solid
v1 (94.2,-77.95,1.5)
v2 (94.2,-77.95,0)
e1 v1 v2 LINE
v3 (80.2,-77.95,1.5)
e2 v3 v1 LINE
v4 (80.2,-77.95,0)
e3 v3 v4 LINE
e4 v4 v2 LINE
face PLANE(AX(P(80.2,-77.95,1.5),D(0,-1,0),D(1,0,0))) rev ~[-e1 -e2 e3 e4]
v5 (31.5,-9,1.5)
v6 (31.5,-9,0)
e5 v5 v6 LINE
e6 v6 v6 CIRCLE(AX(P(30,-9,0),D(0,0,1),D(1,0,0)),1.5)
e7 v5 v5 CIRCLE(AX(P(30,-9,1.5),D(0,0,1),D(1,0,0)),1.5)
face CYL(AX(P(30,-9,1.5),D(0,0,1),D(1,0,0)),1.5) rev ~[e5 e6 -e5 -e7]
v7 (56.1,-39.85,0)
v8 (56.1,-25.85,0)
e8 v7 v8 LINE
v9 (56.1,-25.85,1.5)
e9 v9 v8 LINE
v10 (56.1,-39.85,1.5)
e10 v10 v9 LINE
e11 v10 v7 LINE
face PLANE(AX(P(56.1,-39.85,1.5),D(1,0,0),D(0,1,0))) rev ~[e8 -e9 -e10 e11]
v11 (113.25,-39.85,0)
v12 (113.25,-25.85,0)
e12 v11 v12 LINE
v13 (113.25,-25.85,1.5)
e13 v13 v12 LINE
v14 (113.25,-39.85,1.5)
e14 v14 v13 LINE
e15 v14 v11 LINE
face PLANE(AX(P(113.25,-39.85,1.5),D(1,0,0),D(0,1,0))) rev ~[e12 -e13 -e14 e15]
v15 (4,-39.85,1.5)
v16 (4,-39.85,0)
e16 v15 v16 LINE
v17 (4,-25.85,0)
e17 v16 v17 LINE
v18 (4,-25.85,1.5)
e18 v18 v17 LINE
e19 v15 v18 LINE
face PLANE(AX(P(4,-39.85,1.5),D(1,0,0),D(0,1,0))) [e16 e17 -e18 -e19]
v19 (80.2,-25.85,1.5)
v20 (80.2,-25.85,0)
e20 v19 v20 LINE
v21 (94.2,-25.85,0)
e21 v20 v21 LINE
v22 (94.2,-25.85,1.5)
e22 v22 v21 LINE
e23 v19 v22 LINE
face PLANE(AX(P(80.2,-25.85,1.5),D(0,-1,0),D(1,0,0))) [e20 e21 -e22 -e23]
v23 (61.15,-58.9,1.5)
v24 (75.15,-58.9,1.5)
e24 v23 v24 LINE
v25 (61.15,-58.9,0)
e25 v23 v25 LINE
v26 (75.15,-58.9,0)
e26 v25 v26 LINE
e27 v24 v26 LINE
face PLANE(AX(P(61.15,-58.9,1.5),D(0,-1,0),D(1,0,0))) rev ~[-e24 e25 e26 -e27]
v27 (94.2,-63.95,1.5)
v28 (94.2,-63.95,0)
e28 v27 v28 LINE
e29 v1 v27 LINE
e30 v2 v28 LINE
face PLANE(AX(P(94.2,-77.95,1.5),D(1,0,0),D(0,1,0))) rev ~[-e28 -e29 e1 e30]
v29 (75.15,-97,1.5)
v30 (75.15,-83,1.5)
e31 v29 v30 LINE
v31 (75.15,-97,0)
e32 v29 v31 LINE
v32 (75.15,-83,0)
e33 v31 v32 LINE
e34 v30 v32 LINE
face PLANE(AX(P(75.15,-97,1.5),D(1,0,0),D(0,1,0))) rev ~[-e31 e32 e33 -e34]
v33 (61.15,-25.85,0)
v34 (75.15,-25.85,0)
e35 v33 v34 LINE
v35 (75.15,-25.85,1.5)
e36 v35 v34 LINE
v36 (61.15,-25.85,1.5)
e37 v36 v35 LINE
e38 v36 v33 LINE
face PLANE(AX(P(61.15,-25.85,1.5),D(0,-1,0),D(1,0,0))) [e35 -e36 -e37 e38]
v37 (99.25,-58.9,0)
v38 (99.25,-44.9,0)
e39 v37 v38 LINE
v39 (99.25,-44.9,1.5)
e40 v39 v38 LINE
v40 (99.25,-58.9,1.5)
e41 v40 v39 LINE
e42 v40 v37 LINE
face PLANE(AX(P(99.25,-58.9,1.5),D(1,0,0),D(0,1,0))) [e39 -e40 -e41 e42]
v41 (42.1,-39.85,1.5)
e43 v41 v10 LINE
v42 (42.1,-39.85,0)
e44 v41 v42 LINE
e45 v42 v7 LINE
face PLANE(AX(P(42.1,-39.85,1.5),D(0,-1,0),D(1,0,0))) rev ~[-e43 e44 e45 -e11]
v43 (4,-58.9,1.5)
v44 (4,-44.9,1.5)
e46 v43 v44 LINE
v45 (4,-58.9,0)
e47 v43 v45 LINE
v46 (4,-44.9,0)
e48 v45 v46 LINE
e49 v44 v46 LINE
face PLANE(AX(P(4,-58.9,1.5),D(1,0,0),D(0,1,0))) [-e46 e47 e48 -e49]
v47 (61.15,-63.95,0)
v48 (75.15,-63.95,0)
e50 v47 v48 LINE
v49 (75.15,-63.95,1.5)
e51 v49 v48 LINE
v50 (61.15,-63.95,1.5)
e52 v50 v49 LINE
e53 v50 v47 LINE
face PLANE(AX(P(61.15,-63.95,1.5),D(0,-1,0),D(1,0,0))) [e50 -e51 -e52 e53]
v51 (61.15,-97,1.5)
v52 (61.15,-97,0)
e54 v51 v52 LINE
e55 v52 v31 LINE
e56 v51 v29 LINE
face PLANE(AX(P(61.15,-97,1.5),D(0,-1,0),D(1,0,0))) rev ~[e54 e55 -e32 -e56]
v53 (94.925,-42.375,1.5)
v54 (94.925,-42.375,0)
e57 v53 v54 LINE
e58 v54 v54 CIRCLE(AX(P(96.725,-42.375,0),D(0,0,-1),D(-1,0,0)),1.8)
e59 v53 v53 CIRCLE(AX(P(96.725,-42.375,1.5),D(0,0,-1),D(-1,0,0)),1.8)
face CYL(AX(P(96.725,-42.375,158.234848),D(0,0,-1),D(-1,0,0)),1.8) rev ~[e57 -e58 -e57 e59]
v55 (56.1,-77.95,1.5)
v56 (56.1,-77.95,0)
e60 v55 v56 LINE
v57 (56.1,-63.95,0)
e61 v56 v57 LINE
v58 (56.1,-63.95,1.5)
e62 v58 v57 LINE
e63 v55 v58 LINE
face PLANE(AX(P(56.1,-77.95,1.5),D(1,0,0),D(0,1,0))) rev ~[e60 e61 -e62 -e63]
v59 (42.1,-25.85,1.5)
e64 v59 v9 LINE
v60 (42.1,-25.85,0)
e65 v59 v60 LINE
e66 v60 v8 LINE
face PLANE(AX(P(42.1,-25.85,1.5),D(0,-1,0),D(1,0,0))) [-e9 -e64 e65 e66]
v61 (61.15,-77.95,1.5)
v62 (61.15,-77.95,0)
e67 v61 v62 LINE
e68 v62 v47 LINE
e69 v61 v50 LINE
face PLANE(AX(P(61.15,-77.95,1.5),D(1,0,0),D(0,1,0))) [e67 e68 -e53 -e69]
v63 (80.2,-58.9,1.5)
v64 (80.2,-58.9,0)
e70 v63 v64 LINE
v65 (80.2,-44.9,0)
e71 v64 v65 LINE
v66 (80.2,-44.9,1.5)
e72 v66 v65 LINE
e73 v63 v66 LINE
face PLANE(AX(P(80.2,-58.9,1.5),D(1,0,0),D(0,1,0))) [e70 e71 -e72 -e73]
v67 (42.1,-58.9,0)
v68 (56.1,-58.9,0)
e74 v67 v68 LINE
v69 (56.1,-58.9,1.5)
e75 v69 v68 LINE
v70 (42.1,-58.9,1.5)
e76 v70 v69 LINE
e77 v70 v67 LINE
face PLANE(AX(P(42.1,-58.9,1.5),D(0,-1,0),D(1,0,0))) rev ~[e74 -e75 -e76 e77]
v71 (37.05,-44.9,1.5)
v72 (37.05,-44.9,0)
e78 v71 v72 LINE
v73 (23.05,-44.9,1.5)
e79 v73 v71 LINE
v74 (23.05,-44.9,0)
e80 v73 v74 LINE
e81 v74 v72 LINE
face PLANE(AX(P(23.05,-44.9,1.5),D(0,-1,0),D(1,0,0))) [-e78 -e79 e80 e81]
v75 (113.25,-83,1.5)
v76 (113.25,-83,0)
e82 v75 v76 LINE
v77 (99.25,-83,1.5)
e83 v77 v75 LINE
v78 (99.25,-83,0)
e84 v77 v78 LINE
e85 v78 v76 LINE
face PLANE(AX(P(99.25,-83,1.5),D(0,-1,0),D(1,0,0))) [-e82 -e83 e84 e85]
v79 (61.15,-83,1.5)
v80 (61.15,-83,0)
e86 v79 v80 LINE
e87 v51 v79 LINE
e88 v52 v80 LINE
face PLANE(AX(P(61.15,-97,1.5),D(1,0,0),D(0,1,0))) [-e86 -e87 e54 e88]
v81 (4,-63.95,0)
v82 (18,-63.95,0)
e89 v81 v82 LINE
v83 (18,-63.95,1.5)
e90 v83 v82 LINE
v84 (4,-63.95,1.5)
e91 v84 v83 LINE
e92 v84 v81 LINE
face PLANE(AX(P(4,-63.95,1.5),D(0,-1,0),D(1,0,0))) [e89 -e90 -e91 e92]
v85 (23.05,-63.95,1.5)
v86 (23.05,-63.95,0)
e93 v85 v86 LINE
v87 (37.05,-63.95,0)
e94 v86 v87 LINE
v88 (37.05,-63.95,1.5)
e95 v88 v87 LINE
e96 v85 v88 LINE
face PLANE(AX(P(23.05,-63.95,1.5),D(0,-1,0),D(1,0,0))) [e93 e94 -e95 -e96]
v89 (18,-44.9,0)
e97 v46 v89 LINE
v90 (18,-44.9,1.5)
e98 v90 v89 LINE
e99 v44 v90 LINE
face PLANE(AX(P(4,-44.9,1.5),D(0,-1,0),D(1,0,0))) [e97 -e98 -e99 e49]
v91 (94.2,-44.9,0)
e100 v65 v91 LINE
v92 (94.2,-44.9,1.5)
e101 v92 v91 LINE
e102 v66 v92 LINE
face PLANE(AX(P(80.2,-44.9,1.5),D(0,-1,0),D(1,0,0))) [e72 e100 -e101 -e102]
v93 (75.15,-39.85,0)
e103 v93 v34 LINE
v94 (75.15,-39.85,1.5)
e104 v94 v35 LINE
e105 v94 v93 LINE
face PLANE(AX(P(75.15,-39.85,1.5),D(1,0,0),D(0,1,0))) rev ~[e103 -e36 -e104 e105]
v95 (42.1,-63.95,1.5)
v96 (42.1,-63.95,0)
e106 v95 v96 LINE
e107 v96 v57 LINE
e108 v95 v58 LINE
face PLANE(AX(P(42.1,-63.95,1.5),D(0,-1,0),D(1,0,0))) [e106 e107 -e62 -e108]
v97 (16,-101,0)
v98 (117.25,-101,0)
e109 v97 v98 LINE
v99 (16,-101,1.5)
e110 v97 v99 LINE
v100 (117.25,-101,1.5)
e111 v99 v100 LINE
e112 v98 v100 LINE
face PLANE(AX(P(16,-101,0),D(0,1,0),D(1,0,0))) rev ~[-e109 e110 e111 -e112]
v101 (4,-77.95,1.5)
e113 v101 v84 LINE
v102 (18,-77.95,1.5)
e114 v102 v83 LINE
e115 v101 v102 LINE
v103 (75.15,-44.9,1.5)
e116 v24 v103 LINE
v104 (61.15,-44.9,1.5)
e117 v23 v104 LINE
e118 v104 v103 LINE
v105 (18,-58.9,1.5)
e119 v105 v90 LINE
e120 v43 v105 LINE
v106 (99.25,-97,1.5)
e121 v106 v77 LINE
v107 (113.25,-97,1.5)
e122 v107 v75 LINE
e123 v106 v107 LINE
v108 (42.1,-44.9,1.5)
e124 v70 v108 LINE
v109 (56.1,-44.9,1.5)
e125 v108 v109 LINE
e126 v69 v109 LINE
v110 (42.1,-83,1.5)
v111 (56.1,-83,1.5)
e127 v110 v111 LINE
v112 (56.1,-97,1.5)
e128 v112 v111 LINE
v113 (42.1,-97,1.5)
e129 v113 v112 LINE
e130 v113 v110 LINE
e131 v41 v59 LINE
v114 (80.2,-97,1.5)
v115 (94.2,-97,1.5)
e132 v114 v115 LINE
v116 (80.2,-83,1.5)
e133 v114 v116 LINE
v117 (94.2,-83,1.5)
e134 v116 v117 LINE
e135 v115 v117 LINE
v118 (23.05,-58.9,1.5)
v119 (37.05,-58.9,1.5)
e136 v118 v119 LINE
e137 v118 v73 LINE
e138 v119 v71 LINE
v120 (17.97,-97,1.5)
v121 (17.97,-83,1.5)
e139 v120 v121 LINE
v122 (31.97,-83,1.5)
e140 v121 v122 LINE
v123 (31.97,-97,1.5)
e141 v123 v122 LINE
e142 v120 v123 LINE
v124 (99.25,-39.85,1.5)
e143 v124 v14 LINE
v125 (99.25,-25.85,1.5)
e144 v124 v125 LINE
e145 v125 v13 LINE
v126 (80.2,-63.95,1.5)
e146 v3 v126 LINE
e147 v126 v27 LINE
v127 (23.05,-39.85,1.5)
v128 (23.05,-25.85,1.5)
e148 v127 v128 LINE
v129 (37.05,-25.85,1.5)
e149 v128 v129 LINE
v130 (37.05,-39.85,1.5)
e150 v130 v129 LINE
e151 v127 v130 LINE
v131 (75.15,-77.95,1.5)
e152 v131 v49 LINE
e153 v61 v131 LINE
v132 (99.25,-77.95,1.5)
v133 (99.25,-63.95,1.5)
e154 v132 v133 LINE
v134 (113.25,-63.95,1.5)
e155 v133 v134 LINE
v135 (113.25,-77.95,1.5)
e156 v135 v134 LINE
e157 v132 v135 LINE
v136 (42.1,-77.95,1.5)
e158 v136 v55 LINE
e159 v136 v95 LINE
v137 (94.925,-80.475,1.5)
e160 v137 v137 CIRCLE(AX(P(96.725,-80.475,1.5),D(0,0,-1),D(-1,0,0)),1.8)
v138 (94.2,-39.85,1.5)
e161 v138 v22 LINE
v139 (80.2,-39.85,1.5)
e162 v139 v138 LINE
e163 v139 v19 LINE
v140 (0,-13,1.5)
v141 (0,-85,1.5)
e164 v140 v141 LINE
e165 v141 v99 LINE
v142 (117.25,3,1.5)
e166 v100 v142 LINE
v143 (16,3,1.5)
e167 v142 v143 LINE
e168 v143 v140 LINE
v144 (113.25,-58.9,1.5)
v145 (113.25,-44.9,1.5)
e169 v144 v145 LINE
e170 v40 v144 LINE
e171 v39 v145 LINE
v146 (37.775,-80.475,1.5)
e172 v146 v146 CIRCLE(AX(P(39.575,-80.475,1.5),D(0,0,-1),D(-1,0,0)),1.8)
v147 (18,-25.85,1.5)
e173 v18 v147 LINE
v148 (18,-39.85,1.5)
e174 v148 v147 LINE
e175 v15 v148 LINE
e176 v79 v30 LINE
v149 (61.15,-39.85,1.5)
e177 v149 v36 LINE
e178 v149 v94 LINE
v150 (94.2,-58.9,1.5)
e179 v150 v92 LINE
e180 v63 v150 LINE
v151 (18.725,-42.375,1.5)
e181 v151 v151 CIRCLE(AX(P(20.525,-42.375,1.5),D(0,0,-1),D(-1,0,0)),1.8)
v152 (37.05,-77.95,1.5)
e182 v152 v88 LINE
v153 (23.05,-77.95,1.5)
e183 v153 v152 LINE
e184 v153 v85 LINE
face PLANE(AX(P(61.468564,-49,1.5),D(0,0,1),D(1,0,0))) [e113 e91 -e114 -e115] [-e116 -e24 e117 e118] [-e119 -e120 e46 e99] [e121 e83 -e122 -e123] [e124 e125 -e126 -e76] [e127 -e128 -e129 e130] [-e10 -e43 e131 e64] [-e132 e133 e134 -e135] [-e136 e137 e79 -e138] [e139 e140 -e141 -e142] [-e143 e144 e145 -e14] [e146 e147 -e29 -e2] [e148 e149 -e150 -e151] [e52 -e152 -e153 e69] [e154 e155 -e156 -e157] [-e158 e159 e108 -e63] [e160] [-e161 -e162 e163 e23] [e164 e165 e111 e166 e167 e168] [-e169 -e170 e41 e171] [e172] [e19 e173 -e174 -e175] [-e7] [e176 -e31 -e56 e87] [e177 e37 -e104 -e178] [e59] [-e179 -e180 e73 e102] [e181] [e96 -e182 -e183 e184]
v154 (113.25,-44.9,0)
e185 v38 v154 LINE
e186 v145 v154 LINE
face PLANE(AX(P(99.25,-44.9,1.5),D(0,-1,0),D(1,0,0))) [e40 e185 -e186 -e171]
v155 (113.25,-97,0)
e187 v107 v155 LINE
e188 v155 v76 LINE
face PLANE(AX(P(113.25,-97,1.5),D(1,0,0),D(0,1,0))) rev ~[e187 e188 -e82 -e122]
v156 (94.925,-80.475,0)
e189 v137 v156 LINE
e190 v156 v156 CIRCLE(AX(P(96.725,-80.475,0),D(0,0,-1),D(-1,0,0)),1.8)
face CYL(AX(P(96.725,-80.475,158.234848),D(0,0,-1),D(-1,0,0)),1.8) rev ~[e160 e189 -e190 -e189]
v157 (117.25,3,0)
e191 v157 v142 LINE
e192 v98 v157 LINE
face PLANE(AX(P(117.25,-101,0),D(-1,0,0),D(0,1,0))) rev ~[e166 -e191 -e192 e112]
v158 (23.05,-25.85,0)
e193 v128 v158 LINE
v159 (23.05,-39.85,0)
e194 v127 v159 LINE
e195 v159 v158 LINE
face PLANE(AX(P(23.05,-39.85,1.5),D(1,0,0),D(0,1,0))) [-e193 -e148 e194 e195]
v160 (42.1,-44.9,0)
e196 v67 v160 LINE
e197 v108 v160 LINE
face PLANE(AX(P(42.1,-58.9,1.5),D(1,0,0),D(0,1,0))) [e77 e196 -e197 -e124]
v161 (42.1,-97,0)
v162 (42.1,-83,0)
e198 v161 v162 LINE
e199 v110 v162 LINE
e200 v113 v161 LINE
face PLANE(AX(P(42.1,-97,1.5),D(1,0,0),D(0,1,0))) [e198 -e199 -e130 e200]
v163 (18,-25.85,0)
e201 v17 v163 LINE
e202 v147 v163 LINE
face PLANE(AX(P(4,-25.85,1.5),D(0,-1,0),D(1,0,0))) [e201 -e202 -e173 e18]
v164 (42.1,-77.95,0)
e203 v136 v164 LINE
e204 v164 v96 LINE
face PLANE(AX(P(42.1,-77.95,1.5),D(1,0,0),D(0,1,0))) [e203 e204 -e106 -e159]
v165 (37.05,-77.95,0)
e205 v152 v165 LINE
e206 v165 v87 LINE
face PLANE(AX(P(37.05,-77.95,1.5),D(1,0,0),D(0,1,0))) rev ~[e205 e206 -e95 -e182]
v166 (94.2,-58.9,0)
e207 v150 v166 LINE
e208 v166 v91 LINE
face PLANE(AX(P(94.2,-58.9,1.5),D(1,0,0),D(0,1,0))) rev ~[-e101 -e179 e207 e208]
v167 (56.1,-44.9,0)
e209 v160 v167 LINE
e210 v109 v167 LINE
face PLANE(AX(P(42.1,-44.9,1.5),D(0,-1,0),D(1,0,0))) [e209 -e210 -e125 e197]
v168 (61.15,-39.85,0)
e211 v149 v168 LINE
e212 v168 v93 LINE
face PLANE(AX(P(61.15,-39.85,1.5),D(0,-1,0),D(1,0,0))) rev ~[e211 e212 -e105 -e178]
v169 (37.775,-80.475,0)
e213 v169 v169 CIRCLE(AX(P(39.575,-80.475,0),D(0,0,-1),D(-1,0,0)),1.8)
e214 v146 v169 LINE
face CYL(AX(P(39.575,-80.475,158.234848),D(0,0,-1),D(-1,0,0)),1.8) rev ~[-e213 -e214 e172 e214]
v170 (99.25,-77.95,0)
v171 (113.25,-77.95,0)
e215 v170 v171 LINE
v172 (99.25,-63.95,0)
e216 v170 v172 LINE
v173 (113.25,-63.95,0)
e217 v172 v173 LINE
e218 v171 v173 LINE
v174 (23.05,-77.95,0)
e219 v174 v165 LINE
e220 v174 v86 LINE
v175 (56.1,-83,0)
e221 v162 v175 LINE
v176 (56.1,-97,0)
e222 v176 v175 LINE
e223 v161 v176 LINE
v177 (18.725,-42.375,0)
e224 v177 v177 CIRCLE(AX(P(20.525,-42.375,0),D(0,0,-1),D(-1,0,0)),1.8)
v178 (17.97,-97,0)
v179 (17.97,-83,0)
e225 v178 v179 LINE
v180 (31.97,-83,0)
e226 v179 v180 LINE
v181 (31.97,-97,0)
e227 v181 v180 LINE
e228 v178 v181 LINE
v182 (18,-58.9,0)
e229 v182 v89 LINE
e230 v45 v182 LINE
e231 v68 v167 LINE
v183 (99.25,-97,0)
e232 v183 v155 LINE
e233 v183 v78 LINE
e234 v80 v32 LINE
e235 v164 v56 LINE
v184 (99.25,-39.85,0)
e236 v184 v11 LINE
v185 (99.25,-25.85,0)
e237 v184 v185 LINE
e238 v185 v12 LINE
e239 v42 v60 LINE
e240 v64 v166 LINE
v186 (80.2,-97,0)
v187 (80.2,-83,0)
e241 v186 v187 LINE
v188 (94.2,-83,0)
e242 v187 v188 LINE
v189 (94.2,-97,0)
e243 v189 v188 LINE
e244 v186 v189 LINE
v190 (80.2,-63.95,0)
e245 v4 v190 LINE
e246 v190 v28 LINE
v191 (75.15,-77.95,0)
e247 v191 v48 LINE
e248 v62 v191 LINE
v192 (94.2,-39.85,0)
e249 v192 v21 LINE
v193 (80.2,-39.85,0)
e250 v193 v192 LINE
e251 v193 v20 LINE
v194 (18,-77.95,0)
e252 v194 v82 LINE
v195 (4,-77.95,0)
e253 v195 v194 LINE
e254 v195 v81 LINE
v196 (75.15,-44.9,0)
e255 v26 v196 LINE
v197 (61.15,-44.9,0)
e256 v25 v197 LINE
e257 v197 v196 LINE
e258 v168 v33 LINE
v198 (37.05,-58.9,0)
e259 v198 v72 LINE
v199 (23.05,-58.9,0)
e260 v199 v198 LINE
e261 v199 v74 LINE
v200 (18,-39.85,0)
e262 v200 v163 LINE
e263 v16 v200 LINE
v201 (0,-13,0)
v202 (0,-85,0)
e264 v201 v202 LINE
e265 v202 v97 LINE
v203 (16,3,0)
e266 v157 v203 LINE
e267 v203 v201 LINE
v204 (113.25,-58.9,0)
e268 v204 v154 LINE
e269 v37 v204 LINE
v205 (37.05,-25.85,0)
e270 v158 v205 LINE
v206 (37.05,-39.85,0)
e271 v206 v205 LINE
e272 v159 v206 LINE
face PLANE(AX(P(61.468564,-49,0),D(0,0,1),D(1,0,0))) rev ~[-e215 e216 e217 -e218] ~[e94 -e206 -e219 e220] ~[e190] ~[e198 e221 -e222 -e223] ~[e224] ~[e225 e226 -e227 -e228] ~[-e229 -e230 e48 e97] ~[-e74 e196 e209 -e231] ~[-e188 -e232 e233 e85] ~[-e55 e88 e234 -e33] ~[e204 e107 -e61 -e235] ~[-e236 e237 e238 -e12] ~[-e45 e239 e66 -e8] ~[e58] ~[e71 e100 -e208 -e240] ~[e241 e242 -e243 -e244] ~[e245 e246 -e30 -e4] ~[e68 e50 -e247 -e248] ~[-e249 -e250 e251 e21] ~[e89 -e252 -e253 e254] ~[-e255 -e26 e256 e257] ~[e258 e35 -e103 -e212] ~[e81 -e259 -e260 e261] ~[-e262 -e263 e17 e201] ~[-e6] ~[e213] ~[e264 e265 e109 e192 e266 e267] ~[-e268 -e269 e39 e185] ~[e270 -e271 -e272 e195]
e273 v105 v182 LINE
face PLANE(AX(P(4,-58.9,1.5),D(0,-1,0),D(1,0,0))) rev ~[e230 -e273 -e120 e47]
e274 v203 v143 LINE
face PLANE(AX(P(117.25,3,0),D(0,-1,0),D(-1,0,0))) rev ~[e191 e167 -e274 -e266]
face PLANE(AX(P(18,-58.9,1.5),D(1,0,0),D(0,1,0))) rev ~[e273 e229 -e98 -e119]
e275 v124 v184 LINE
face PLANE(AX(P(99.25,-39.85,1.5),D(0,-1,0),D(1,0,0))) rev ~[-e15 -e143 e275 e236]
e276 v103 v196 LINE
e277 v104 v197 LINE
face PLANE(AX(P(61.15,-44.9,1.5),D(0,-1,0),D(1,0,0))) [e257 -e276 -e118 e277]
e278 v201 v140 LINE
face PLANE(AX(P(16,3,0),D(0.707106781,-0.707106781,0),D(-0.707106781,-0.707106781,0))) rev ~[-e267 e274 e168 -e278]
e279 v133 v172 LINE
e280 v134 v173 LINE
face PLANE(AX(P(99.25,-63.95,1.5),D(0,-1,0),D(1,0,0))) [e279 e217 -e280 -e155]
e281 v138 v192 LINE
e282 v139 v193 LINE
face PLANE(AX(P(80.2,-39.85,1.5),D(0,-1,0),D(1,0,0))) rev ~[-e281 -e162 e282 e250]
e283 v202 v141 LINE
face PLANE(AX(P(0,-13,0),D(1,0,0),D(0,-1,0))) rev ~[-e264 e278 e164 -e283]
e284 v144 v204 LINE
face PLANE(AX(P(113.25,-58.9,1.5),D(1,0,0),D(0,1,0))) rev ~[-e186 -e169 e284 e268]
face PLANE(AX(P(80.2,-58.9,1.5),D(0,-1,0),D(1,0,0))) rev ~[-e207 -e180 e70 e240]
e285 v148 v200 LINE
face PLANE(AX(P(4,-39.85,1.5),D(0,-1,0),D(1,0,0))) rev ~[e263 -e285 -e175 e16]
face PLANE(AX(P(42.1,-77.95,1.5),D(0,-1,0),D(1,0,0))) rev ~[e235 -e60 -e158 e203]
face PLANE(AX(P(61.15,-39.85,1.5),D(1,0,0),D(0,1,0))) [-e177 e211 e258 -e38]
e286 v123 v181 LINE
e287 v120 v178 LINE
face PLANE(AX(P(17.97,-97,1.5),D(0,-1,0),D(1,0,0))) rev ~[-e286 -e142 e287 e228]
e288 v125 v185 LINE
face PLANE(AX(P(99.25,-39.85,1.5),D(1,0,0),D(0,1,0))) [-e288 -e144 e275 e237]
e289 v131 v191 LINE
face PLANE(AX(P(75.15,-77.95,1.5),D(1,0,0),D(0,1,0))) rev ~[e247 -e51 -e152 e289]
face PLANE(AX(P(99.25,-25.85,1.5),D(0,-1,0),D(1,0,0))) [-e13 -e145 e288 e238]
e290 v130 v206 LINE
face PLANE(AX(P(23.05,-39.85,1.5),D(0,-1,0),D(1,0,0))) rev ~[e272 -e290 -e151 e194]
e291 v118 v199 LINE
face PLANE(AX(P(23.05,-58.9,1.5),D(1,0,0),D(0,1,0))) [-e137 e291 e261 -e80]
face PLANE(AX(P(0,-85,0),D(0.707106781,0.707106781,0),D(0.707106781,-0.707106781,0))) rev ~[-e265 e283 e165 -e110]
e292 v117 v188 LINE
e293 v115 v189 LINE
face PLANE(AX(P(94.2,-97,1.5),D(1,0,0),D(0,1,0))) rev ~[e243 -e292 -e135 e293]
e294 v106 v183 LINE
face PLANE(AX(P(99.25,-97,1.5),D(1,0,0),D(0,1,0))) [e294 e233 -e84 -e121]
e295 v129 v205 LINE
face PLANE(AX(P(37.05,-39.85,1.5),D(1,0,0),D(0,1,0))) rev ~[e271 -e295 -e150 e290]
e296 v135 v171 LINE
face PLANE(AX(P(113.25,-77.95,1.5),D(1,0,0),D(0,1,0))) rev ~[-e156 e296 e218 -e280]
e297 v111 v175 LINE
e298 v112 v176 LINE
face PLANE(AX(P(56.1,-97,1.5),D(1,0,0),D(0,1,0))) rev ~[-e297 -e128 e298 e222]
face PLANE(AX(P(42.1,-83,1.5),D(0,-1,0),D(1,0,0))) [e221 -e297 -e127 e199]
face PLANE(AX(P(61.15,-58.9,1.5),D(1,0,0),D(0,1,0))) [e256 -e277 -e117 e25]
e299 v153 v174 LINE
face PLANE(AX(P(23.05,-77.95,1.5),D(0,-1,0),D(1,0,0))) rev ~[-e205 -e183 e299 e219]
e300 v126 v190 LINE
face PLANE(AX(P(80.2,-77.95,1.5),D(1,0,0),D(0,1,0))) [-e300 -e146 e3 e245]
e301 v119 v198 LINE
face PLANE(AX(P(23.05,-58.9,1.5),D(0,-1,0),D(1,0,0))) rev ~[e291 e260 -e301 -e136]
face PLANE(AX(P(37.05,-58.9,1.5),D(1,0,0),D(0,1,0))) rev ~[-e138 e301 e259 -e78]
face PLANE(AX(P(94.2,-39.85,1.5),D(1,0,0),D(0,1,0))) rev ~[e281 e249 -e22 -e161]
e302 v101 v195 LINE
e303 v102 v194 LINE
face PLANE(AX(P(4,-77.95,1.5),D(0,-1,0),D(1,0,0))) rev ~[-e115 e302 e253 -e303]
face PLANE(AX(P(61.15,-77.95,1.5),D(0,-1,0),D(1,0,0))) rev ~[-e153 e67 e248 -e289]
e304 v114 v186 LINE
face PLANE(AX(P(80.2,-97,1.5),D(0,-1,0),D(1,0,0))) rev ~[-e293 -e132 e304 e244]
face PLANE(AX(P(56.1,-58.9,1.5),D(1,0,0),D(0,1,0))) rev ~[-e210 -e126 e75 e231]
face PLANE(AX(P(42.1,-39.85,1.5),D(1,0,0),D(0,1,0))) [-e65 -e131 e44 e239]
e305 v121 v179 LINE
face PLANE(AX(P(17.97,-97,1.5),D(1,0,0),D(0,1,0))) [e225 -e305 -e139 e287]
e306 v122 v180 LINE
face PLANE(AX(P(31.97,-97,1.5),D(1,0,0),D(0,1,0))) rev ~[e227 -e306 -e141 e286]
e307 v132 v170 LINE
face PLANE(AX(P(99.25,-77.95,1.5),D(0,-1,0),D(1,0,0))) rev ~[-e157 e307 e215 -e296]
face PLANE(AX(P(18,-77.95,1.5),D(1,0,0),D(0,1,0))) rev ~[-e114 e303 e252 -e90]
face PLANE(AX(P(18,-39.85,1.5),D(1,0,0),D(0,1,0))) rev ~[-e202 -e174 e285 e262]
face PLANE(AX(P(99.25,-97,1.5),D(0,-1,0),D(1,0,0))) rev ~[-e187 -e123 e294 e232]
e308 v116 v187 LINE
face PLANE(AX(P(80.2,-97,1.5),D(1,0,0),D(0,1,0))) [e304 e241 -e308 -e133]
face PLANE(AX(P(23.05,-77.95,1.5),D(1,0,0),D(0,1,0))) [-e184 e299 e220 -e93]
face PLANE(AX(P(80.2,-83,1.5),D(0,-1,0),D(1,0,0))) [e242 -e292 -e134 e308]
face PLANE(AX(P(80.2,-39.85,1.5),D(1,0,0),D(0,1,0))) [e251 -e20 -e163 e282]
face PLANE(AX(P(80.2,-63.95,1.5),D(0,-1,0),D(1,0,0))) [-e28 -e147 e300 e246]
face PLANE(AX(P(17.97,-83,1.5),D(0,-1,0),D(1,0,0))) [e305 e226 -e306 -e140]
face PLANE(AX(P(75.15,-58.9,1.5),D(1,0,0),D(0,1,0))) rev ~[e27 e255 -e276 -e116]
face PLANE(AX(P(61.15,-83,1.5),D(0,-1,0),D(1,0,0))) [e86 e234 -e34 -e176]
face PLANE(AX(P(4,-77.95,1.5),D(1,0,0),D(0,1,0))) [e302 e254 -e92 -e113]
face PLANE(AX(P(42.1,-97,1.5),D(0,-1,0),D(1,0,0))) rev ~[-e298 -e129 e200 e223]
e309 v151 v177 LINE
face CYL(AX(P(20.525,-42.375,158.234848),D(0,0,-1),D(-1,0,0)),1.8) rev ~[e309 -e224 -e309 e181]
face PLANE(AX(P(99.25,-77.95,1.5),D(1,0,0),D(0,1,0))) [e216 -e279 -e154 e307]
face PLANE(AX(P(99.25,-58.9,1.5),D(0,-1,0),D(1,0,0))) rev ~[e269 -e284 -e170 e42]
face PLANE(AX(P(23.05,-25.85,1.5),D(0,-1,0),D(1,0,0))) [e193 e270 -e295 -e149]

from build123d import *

# Parameters (mm, degrees)
BOSS_EXTRU_1_DEPTH      = 1.5
ESQUISSE2_R             = 1.5
ESQUISSE2_W             = 14
ESQUISSE2_H             = 14
ENL_V_MAT_EXTRU_1_DEPTH = 1.5
D_GAGEMENT_M31_D        = 3.6


with BuildPart() as part:
    # Esquisse1 → Boss.-Extru.1 (new body)
    with BuildSketch(Plane.XY):
        Polygon((0, -85), (16, -101), (117.25, -101), (117.25, 3), (16, 3), (0, -13), align=None)
    extrude(amount=BOSS_EXTRU_1_DEPTH)

    # Esquisse2 → Enlèv. mat.-Extru.1 (cut)
    with BuildSketch(Plane.XY.offset(1.5)):
        with Locations((30, -9)):
            Circle(ESQUISSE2_R)
        with Locations((11, -32.85)):
            Rectangle(ESQUISSE2_W, ESQUISSE2_H)
        with Locations((30.05, -32.85)):
            Rectangle(ESQUISSE2_W, ESQUISSE2_H)
        with Locations((49.1, -32.85)):
            Rectangle(ESQUISSE2_W, ESQUISSE2_H)
        with Locations((68.15, -32.85)):
            Rectangle(ESQUISSE2_W, ESQUISSE2_H)
        with Locations((87.2, -32.85)):
            Rectangle(ESQUISSE2_W, ESQUISSE2_H)
        with Locations((106.25, -32.85)):
            Rectangle(ESQUISSE2_W, ESQUISSE2_H)
        with Locations((30.05, -51.9)):
            Rectangle(ESQUISSE2_W, ESQUISSE2_H)
        with Locations((49.1, -51.9)):
            Rectangle(ESQUISSE2_W, ESQUISSE2_H)
        with Locations((68.15, -51.9)):
            Rectangle(ESQUISSE2_W, ESQUISSE2_H)
        with Locations((87.2, -51.9)):
            Rectangle(ESQUISSE2_W, ESQUISSE2_H)
        with Locations((106.25, -51.9)):
            Rectangle(ESQUISSE2_W, ESQUISSE2_H)
        with Locations((30.05, -70.95)):
            Rectangle(ESQUISSE2_W, ESQUISSE2_H)
        with Locations((49.1, -70.95)):
            Rectangle(ESQUISSE2_W, ESQUISSE2_H)
        with Locations((68.15, -70.95)):
            Rectangle(ESQUISSE2_W, ESQUISSE2_H)
        with Locations((87.2, -70.95)):
            Rectangle(ESQUISSE2_W, ESQUISSE2_H)
        with Locations((106.25, -70.95)):
            Rectangle(ESQUISSE2_W, ESQUISSE2_H)
        with Locations((11, -51.9)):
            Rectangle(ESQUISSE2_W, ESQUISSE2_H)
        with Locations((11, -70.95)):
            Rectangle(ESQUISSE2_W, ESQUISSE2_H)
        with Locations((49.1, -90)):
            Rectangle(ESQUISSE2_W, ESQUISSE2_H)
        with Locations((68.15, -90)):
            Rectangle(ESQUISSE2_W, ESQUISSE2_H)
        with Locations((87.2, -90)):
            Rectangle(ESQUISSE2_W, ESQUISSE2_H)
        with Locations((106.25, -90)):
            Rectangle(ESQUISSE2_W, ESQUISSE2_H)
        with Locations((24.97, -90)):
            Rectangle(ESQUISSE2_W, ESQUISSE2_H)
    extrude(amount=-ENL_V_MAT_EXTRU_1_DEPTH, mode=Mode.SUBTRACT)

    # Dégagement M31 (through all)
    with Locations(Plane.XY.offset(1.5)):
        with Locations((20.525, -42.375), (96.725, -42.375), (96.725, -80.475), (39.575, -80.475)):
            Hole(D_GAGEMENT_M31_D / 2)


solid = part.part
